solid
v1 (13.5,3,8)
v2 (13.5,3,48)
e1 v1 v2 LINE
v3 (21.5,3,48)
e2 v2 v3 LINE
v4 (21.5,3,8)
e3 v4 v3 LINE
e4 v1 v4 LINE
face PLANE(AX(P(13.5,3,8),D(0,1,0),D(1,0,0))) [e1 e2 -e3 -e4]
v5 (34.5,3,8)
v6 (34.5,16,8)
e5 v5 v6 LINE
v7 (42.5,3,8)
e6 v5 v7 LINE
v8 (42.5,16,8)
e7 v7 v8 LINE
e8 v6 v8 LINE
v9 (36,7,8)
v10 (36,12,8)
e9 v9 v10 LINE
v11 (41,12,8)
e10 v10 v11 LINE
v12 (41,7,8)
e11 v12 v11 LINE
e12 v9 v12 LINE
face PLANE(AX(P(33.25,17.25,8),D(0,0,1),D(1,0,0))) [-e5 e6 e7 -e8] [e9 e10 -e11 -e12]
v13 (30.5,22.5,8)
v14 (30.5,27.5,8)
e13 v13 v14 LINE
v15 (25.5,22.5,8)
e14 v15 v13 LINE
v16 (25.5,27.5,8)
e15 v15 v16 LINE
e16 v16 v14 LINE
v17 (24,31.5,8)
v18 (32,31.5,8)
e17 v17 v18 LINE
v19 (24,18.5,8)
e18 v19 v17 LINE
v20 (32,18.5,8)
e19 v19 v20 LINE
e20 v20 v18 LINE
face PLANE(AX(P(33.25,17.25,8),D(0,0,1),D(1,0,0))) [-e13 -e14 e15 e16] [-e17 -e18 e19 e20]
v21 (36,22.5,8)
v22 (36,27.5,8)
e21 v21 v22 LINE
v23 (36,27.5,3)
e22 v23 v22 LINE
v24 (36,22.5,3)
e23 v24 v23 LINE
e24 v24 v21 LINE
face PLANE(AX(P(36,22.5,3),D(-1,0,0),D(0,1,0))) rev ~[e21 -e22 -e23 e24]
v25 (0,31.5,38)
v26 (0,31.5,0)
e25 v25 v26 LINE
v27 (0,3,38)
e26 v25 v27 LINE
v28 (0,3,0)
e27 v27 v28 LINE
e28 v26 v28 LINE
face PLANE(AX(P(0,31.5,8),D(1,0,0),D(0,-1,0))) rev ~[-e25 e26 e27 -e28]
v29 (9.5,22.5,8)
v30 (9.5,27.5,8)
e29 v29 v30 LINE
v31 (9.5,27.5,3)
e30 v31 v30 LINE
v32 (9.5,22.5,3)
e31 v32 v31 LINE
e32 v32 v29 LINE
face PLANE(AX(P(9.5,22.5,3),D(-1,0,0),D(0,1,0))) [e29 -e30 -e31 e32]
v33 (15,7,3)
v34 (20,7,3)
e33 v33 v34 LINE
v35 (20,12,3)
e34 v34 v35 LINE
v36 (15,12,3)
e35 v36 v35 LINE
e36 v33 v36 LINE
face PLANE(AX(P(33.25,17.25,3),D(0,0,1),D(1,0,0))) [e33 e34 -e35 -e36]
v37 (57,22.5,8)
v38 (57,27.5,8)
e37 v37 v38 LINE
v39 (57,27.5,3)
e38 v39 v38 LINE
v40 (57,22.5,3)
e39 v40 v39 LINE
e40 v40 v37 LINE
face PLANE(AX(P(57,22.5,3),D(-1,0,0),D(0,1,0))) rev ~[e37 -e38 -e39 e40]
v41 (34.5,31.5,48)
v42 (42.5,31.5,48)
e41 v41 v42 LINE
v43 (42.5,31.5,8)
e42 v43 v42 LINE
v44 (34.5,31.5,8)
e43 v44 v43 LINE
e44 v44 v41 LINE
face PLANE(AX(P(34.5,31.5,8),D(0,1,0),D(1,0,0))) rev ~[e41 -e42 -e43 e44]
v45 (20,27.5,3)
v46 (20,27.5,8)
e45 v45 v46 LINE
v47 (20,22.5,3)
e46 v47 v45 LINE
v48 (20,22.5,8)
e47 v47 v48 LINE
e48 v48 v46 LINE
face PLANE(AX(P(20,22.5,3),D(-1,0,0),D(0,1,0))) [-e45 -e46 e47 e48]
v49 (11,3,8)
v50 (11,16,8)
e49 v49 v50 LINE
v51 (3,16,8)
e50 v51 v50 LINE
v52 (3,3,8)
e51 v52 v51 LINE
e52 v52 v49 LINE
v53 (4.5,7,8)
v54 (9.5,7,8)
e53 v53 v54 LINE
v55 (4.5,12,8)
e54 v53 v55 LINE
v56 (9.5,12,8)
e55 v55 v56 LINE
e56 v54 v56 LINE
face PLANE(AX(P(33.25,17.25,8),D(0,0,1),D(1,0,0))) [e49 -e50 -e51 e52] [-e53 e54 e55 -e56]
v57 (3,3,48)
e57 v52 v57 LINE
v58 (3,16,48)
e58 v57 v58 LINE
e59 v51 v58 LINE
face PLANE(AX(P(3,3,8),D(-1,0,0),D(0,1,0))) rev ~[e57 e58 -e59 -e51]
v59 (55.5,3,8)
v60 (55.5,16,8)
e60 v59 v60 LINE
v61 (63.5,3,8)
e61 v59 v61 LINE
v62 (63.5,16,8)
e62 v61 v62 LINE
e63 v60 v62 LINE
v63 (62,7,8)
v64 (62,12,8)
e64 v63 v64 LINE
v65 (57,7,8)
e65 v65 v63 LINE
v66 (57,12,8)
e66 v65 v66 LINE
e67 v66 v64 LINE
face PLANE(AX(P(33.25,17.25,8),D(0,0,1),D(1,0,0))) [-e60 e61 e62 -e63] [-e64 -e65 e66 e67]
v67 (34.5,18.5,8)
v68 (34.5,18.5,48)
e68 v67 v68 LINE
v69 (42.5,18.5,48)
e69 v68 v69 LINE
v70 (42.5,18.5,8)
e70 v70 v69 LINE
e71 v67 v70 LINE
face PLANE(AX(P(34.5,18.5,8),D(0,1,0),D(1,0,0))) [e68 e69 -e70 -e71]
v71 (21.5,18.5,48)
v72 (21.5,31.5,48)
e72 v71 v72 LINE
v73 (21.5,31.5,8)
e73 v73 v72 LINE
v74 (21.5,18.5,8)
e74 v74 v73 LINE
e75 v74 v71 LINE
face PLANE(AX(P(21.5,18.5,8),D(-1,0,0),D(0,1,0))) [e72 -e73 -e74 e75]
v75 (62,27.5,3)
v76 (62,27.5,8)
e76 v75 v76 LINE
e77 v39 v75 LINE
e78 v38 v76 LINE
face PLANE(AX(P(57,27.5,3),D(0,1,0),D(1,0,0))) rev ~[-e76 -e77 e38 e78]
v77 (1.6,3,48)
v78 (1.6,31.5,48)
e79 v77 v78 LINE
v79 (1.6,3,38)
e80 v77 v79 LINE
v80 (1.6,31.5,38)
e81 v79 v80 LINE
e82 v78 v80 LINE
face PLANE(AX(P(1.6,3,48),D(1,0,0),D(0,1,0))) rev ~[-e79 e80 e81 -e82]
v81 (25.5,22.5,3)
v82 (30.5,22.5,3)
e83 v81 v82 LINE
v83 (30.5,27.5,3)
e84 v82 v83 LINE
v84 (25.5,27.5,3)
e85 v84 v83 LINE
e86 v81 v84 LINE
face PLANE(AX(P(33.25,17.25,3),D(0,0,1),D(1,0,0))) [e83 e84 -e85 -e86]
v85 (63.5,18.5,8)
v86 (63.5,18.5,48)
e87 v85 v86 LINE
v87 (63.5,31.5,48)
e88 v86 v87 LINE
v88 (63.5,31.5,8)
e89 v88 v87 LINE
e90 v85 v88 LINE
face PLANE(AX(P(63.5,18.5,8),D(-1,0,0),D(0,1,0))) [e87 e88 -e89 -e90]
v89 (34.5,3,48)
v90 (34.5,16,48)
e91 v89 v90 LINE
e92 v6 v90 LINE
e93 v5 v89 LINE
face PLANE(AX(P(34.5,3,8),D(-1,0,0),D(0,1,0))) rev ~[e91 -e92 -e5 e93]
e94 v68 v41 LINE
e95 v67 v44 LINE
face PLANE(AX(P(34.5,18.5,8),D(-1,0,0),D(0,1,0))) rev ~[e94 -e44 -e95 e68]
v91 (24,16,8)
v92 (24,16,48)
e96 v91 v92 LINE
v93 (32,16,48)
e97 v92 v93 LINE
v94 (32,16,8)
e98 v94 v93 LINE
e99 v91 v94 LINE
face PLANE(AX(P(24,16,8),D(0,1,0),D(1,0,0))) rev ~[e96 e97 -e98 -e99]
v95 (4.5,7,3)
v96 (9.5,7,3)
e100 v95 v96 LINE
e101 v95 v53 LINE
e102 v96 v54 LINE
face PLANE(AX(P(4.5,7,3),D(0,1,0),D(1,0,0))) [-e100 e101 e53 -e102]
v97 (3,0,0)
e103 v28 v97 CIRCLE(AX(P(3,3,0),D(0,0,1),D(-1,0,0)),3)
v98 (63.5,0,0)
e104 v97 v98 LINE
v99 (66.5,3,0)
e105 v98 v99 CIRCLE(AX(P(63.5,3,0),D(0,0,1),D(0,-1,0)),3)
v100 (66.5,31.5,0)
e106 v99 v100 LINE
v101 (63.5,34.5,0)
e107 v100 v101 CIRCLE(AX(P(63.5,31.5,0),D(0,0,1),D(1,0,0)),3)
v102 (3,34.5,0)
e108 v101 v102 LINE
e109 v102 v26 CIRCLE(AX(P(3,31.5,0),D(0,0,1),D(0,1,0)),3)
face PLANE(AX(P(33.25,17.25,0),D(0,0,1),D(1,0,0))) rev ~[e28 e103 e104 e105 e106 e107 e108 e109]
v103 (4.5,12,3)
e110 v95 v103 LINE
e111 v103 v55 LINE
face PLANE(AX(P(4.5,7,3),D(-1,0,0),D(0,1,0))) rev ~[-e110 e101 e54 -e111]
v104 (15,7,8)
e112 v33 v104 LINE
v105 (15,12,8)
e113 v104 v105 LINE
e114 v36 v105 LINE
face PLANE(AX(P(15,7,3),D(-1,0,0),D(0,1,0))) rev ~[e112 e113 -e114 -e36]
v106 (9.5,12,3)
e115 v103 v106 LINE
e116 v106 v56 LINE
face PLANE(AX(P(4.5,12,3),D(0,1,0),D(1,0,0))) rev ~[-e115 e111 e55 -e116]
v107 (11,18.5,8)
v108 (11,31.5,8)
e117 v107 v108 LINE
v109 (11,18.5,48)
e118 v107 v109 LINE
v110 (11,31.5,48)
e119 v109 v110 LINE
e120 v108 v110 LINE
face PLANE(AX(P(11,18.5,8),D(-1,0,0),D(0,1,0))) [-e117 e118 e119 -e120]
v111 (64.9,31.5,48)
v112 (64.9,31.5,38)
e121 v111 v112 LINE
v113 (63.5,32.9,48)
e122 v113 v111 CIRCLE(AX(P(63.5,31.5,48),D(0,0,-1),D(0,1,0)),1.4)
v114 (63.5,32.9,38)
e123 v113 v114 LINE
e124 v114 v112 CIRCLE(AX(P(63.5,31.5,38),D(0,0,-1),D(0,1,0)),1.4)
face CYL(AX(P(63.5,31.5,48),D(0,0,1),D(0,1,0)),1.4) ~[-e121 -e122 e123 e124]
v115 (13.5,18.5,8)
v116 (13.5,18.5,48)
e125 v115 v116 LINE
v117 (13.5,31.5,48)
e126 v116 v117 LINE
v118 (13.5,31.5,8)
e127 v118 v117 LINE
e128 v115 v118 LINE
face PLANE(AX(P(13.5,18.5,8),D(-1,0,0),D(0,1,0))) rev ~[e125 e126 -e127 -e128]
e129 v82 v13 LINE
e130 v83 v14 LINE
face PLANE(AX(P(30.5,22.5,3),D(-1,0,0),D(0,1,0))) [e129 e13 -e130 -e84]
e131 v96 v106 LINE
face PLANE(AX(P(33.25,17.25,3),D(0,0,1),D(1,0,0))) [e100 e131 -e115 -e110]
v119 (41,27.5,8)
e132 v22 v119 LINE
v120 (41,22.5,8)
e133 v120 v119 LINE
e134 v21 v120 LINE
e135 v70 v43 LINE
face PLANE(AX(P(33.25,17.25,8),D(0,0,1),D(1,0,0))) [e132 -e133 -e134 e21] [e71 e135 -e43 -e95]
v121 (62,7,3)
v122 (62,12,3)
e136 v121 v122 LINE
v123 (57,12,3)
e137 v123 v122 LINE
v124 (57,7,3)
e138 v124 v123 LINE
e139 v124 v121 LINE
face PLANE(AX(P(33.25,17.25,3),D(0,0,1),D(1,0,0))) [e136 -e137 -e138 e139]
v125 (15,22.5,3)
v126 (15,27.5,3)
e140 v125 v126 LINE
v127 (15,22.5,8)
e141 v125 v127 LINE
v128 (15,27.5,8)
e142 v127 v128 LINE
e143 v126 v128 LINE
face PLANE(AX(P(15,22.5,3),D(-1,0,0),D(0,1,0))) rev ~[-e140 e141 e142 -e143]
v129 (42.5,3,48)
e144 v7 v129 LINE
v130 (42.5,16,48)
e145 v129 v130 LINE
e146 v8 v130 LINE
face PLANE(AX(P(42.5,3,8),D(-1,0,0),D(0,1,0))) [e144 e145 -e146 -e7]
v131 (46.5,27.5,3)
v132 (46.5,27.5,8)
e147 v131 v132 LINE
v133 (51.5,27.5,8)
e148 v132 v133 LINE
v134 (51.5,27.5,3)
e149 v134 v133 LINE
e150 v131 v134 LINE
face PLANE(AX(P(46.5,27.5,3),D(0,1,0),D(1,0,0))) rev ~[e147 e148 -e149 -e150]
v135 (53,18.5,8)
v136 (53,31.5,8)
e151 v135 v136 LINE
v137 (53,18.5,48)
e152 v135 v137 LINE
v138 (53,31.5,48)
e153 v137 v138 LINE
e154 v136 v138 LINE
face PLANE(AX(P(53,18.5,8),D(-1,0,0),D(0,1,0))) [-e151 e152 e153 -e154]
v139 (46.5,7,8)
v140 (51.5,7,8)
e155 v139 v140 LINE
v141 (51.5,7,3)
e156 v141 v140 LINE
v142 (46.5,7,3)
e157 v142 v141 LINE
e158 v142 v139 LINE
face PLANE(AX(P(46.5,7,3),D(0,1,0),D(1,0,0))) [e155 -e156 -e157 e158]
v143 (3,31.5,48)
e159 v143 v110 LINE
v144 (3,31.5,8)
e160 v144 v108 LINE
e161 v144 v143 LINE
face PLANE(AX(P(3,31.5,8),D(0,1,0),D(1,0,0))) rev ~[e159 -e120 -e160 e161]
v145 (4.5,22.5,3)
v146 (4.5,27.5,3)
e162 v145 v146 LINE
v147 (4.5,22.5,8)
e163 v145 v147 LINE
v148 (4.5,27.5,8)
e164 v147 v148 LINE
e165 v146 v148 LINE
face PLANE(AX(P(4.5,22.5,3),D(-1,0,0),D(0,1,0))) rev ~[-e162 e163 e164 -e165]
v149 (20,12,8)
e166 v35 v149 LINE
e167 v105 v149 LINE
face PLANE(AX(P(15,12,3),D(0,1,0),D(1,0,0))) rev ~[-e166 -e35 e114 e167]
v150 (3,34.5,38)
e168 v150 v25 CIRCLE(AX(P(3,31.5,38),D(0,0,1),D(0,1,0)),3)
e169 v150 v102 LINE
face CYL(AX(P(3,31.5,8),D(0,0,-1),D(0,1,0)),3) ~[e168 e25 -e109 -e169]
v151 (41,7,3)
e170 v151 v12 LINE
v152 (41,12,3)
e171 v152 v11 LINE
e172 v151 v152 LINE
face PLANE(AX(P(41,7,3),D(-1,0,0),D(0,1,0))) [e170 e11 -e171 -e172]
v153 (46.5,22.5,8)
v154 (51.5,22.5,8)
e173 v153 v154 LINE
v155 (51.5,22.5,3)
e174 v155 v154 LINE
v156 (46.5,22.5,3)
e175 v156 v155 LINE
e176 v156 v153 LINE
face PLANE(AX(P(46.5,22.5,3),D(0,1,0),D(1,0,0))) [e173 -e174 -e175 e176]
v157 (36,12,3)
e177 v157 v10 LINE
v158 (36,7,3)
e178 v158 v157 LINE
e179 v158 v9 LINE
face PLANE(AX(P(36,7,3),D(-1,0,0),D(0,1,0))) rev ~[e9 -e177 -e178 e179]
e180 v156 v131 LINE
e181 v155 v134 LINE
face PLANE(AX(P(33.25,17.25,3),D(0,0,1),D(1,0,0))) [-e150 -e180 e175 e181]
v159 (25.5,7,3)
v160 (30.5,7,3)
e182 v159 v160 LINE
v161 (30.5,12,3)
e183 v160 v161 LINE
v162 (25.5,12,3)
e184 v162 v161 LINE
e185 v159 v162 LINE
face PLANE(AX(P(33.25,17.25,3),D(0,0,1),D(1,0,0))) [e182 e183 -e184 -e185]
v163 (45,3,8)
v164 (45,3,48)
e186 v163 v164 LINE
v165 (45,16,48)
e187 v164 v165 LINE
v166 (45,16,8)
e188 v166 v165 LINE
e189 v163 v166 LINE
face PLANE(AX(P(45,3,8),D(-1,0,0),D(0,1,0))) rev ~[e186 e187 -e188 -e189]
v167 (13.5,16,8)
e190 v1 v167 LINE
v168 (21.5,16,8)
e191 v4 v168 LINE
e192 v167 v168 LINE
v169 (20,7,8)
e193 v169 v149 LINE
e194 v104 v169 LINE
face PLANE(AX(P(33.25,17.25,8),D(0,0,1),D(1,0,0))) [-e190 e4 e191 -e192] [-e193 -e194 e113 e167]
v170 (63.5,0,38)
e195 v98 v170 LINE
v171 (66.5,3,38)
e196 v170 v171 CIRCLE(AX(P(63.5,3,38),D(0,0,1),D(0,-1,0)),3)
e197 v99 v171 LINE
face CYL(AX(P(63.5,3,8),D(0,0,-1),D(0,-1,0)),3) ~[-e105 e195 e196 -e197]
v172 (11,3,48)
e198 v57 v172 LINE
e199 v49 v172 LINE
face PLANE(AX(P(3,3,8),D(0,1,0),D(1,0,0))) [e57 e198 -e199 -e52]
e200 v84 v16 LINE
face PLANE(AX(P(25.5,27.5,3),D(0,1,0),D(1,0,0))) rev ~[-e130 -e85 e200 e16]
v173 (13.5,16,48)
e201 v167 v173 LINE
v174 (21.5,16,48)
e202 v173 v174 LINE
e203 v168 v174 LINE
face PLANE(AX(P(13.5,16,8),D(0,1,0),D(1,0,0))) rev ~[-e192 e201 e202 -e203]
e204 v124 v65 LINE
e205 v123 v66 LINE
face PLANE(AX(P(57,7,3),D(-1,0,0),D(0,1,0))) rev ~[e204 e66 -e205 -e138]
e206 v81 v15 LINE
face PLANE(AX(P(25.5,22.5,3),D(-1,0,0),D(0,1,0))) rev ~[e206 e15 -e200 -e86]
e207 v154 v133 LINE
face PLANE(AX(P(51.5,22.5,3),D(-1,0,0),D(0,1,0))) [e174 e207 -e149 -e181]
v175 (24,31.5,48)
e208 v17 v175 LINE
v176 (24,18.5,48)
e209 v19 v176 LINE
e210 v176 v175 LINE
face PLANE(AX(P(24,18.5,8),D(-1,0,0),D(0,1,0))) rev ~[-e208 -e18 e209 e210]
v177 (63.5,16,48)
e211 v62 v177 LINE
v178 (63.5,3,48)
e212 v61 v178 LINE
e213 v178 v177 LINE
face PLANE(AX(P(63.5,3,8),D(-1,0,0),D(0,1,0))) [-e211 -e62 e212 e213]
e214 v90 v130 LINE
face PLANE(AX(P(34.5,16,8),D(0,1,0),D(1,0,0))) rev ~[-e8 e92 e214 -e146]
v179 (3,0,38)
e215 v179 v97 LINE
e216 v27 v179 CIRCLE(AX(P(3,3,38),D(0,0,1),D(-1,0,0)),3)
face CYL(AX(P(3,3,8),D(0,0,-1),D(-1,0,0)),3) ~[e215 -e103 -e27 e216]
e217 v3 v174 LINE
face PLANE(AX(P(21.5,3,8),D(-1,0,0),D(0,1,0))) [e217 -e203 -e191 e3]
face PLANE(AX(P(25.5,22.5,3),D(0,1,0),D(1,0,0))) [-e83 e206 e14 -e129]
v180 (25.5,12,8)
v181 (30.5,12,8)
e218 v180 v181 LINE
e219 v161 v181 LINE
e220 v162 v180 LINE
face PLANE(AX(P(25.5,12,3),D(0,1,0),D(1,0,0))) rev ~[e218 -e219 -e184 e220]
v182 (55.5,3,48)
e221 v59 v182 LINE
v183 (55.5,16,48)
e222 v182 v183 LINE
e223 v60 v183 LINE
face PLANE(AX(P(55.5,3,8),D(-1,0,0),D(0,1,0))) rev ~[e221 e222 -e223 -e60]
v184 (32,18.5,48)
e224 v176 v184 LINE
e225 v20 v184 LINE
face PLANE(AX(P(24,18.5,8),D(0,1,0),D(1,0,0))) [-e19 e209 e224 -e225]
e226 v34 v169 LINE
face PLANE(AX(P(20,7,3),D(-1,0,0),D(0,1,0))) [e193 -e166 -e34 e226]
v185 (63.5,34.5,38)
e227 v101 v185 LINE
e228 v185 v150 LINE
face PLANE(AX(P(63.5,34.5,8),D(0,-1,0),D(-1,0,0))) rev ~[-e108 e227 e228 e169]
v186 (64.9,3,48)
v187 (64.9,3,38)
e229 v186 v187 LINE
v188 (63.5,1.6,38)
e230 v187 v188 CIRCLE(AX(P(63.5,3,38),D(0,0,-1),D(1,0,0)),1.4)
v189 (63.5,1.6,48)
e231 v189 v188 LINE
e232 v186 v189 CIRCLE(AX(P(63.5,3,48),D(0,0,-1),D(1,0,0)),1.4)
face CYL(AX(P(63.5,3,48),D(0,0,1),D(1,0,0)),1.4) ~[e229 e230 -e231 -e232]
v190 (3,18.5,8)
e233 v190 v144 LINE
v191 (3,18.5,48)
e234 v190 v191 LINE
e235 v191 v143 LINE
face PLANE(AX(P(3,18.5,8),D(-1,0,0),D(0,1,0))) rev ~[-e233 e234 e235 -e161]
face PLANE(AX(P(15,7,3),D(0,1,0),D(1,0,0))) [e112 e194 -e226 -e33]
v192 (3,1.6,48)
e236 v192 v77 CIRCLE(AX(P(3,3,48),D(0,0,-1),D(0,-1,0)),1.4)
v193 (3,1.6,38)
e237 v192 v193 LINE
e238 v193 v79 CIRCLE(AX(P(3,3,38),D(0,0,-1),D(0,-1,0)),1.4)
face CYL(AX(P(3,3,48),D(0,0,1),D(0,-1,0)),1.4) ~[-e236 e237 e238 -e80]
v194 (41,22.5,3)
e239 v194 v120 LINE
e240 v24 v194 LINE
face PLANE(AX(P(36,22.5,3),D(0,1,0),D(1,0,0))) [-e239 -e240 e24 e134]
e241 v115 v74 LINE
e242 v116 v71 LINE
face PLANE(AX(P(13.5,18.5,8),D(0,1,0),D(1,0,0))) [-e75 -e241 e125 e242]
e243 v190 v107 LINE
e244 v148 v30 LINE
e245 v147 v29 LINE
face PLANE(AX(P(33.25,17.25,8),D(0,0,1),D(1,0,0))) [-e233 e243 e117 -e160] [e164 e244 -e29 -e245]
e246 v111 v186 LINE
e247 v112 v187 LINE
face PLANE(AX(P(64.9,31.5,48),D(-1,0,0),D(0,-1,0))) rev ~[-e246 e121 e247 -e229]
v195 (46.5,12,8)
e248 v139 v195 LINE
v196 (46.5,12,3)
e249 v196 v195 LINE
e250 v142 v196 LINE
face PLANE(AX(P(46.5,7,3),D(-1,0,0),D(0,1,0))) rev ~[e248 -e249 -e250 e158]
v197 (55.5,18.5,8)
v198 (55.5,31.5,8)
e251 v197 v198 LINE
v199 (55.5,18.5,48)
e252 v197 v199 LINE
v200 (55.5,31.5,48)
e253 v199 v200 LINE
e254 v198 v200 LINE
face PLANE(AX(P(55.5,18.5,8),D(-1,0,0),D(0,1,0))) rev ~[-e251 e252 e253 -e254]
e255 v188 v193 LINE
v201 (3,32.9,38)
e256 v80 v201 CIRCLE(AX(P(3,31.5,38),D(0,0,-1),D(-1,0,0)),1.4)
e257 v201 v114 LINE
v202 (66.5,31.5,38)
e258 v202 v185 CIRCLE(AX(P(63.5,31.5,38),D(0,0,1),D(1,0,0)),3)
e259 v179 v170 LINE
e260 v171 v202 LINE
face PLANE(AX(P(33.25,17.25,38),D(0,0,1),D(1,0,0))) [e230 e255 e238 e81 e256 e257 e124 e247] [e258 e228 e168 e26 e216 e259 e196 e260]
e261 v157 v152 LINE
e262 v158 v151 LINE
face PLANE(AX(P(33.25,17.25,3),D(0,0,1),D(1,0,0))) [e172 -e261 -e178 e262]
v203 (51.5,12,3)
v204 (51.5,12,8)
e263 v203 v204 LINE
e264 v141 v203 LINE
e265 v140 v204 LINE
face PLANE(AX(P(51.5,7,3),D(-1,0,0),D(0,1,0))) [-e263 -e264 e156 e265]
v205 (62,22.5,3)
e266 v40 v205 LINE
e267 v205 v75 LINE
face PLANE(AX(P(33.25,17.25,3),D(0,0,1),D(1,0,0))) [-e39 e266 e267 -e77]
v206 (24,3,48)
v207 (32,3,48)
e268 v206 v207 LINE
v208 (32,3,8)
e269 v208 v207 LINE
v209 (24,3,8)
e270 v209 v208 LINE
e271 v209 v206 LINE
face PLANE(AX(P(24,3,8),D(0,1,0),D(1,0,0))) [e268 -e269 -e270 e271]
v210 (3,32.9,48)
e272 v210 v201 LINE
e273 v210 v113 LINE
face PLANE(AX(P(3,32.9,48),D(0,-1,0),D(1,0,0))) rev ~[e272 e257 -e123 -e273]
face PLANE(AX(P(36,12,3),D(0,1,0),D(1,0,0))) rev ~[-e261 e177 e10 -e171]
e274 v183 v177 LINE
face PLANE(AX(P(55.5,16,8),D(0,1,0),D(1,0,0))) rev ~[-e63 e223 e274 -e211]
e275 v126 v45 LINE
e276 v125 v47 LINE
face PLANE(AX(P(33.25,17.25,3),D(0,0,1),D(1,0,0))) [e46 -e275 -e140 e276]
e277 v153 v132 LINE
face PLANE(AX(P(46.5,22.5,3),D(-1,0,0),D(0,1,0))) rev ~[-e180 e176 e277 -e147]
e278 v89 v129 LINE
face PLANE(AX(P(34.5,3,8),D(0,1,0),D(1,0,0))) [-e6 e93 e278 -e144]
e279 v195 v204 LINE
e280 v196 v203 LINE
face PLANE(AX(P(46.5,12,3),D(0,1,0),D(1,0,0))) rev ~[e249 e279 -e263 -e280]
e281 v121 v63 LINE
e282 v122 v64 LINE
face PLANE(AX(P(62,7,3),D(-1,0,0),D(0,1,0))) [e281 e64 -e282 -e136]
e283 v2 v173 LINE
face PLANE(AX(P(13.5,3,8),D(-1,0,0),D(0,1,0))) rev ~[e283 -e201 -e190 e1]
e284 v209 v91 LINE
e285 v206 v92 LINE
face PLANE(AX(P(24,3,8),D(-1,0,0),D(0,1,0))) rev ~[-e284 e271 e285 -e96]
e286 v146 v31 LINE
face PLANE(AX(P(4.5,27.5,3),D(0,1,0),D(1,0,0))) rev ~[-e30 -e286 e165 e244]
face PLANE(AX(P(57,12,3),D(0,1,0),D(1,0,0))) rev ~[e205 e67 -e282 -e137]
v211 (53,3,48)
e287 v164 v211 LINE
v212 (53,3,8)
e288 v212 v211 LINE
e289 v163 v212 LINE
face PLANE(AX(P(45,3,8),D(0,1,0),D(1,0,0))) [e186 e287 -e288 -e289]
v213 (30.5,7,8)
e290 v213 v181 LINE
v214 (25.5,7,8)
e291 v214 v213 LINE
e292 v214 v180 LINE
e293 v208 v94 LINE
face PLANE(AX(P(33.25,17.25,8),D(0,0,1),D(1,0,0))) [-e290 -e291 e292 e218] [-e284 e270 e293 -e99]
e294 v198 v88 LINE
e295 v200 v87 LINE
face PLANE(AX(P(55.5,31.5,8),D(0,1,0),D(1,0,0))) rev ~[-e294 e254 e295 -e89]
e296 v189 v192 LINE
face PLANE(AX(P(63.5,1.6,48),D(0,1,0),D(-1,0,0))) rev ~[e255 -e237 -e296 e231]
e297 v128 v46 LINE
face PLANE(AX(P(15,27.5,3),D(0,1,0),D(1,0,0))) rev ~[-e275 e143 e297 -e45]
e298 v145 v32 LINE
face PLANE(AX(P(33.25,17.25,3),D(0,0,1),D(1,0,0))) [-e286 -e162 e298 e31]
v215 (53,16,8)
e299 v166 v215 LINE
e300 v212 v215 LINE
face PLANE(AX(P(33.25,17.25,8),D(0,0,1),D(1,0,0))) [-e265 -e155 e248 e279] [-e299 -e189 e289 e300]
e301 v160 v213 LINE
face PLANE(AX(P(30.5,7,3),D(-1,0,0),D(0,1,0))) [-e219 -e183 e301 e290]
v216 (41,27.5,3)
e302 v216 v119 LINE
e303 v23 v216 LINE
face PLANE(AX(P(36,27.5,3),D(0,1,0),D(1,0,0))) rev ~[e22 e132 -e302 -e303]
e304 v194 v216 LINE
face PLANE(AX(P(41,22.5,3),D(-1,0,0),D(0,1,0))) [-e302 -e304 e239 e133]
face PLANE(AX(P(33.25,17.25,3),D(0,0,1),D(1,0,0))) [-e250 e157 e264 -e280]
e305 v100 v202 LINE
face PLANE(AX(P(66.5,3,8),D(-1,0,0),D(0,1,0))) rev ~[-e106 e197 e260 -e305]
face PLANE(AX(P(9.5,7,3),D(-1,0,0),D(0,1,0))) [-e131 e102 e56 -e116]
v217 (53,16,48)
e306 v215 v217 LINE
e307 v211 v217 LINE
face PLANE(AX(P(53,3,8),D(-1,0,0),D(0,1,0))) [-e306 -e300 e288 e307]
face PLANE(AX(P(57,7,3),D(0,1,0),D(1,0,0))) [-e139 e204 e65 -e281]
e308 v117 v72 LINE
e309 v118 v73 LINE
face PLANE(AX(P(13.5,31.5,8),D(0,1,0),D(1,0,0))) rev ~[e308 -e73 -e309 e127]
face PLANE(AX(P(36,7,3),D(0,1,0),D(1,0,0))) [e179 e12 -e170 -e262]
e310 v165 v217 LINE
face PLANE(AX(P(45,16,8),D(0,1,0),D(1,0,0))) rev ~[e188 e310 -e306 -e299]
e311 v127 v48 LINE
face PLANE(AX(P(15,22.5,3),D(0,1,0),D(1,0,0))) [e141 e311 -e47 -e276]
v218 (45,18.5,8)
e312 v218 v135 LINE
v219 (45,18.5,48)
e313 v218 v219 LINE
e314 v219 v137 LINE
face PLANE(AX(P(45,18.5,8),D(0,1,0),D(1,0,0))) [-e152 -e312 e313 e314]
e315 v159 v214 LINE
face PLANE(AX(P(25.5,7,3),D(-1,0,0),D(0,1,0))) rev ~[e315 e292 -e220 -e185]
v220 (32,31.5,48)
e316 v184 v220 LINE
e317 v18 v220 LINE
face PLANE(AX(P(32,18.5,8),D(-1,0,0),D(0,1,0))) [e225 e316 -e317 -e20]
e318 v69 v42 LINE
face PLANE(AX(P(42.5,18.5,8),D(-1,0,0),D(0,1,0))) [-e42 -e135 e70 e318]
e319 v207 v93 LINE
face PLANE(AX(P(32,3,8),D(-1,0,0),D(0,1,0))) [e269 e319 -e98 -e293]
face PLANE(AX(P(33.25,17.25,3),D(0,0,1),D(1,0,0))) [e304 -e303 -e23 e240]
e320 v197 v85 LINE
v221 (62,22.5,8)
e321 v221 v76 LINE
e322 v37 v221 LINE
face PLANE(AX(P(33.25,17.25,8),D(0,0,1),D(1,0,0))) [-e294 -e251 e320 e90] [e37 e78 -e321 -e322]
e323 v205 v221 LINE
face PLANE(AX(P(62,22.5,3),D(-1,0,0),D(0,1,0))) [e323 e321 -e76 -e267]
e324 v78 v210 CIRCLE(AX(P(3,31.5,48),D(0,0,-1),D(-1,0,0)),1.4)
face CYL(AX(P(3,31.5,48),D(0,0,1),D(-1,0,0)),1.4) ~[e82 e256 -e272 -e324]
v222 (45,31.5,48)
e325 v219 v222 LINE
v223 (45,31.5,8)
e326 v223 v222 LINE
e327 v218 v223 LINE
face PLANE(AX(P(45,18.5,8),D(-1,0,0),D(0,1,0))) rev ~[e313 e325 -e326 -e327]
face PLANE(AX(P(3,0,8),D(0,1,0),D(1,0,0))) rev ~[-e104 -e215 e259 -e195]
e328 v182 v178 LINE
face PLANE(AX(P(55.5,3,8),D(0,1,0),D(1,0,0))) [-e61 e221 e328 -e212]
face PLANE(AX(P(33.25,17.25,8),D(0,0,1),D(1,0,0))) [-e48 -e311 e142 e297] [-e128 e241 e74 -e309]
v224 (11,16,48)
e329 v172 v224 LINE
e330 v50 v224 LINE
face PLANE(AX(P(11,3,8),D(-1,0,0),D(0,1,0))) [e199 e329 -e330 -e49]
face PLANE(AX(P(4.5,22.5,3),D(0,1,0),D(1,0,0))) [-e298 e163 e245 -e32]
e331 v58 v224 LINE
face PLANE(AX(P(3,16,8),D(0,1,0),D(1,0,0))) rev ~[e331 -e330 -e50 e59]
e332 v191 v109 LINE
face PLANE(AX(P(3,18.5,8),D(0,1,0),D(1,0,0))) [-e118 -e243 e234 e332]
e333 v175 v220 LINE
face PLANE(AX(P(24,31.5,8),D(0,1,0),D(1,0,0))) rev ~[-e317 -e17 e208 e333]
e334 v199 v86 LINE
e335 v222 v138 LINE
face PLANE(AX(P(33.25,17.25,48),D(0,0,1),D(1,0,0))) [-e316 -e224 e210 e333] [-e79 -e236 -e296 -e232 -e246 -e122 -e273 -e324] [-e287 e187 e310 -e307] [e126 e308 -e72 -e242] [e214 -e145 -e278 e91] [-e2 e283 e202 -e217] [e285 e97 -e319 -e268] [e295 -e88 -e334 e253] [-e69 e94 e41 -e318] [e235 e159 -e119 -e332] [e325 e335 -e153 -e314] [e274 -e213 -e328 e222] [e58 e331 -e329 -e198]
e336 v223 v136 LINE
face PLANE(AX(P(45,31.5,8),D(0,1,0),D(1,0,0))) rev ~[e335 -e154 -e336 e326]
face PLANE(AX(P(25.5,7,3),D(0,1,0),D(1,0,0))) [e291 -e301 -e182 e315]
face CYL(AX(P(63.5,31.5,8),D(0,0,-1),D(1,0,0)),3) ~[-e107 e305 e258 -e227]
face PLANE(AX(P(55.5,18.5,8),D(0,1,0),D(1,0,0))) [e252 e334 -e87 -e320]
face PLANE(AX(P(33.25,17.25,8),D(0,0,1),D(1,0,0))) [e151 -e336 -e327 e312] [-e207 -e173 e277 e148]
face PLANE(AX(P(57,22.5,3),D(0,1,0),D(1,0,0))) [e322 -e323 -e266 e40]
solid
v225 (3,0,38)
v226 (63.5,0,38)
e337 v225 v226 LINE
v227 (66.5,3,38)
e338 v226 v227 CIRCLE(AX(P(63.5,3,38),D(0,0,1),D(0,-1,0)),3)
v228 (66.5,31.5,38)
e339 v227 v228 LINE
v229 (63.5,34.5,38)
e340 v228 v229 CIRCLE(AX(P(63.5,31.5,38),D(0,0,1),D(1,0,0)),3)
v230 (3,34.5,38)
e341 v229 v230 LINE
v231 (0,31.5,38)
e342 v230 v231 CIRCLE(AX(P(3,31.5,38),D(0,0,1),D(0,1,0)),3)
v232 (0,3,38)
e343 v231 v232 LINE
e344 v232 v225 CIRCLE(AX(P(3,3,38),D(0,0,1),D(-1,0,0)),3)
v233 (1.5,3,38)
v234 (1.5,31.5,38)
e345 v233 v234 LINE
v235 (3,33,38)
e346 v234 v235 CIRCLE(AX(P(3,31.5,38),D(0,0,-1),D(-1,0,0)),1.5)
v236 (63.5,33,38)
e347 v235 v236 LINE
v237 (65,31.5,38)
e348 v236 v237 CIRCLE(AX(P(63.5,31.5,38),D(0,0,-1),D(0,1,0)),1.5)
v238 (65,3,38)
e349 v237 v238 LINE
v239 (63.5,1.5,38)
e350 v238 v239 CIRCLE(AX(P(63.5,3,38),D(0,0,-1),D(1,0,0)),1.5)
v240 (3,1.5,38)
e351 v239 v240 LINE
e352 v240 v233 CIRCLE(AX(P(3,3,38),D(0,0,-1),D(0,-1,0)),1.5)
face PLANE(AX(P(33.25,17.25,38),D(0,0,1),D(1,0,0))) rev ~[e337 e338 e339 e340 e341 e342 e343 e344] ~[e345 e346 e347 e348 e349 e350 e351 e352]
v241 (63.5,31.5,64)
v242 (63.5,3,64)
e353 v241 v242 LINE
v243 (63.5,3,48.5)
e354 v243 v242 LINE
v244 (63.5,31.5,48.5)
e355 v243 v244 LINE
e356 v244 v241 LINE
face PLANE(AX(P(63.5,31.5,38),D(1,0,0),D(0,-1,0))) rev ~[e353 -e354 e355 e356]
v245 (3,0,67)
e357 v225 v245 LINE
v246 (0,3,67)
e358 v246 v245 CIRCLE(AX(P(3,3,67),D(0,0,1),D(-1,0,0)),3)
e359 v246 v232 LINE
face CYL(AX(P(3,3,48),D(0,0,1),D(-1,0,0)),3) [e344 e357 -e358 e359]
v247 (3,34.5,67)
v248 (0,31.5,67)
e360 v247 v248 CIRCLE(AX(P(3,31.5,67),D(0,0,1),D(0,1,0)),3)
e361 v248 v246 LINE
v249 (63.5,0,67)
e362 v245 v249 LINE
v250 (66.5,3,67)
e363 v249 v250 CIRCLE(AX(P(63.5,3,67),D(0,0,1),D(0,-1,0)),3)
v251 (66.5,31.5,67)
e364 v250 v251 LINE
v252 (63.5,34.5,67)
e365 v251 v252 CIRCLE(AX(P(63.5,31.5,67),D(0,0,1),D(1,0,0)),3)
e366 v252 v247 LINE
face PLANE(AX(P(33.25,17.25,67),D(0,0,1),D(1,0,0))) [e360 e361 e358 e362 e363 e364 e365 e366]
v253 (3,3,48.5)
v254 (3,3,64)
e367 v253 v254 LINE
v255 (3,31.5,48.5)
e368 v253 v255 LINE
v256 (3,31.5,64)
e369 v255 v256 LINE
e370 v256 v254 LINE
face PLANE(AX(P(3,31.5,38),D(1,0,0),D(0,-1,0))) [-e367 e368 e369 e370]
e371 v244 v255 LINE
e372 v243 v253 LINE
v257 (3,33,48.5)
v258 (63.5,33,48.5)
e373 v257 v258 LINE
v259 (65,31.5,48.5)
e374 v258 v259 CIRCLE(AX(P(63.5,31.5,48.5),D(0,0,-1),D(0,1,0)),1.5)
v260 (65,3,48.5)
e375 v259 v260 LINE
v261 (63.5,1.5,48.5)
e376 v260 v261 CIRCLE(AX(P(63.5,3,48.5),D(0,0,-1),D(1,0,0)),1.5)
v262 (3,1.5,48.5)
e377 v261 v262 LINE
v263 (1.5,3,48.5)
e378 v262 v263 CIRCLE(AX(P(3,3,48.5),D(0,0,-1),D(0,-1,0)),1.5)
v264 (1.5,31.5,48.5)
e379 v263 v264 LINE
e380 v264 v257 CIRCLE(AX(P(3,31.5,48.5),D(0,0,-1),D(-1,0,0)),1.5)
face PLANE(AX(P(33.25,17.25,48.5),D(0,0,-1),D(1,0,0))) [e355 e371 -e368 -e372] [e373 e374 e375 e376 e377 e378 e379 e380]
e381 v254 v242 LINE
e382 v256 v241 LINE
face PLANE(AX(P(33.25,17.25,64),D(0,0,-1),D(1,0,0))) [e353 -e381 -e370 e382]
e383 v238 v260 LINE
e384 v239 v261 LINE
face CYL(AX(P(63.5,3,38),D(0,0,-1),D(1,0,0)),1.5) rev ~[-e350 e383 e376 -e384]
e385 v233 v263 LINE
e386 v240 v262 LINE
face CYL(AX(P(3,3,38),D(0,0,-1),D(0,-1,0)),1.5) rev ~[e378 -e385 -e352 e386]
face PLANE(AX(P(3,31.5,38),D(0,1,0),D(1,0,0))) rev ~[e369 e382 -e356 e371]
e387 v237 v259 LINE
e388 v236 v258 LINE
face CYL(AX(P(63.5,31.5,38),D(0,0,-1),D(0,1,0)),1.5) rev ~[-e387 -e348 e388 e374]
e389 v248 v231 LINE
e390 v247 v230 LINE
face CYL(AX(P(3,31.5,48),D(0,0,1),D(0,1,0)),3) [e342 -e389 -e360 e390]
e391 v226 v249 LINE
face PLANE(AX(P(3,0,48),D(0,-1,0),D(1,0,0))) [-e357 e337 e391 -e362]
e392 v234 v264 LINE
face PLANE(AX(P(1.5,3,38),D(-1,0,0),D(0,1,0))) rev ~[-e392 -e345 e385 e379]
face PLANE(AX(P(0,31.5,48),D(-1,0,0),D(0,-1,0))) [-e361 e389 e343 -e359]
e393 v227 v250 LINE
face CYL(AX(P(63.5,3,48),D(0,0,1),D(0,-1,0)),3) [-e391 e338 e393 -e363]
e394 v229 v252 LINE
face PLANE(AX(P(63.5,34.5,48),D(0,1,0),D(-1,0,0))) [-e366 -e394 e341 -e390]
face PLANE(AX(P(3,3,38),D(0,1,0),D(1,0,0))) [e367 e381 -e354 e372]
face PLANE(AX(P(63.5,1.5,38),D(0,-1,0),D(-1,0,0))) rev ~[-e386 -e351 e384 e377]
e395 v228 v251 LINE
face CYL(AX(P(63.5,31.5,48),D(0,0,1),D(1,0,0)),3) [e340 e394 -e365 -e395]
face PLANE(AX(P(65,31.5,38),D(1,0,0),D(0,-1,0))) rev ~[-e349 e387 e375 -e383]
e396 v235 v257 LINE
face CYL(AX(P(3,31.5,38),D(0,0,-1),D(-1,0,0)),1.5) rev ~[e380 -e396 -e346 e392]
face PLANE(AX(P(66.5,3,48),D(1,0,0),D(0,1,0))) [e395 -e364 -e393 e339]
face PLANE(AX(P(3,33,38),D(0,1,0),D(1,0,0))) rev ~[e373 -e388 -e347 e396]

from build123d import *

# Parameters (mm, degrees)
F1_DEPTH      = 3
F2_W          = 5
F2_H          = 5
F3_DEPTH      = 5
F4_W          = 8
F4_H          = 13
F5_DEPTH      = 40
F7_DEPTH      = 10
F9_DEPTH      = 19
F9_DEPTH_BACK = 10
F10_W         = 60.5
F10_H         = 28.5
F11_DEPTH     = 26
F13_DEPTH     = 10.5


with BuildPart() as f1:
    # F0 (on Top) → F1 (new body)
    with BuildSketch(Plane.XY):
        with BuildLine():
            ThreePointArc((0, 3), (0.8786796564, 0.8786796564), (3, 0))
            Line((3, 0), (63.5, 0))
            ThreePointArc((63.5, 0), (65.6213203436, 0.8786796564), (66.5, 3))
            Line((66.5, 3), (66.5, 31.5))
            ThreePointArc((66.5, 31.5), (65.6213203436, 33.6213203436), (63.5, 34.5))
            Line((63.5, 34.5), (3, 34.5))
            ThreePointArc((3, 34.5), (0.8786796564, 33.6213203436), (0, 31.5))
            Line((0, 31.5), (0, 3))
        make_face()
    extrude(amount=F1_DEPTH)

    # F2 (on face) → F3 (join)
    with BuildSketch(Plane.XY.offset(3)):
        with BuildLine():
            Line((3, 0), (63.5, 0))
            ThreePointArc((63.5, 0), (65.6213203436, 0.8786796564), (66.5, 3))
            Line((66.5, 3), (66.5, 31.5))
            ThreePointArc((66.5, 31.5), (65.6213203436, 33.6213203436), (63.5, 34.5))
            Line((63.5, 34.5), (3, 34.5))
            ThreePointArc((3, 34.5), (0.8786796564, 33.6213203436), (0, 31.5))
            Line((0, 31.5), (0, 3))
            ThreePointArc((0, 3), (0.8786796564, 0.8786796564), (3, 0))
        make_face()
        with Locations((7, 9.5)):
            Rectangle(F2_W, F2_H, mode=Mode.SUBTRACT)
        with Locations((17.5, 9.5)):
            Rectangle(F2_W, F2_H, mode=Mode.SUBTRACT)
        with Locations((28, 9.5)):
            Rectangle(F2_W, F2_H, mode=Mode.SUBTRACT)
        with Locations((38.5, 9.5)):
            Rectangle(F2_W, F2_H, mode=Mode.SUBTRACT)
        with Locations((49, 9.5)):
            Rectangle(F2_W, F2_H, mode=Mode.SUBTRACT)
        with Locations((59.5, 9.5)):
            Rectangle(F2_W, F2_H, mode=Mode.SUBTRACT)
        with Locations((7, 25)):
            Rectangle(F2_W, F2_H, mode=Mode.SUBTRACT)
        with Locations((17.5, 25)):
            Rectangle(F2_W, F2_H, mode=Mode.SUBTRACT)
        with Locations((28, 25)):
            Rectangle(F2_W, F2_H, mode=Mode.SUBTRACT)
        with Locations((38.5, 25)):
            Rectangle(F2_W, F2_H, mode=Mode.SUBTRACT)
        with Locations((49, 25)):
            Rectangle(F2_W, F2_H, mode=Mode.SUBTRACT)
        with Locations((59.5, 25)):
            Rectangle(F2_W, F2_H, mode=Mode.SUBTRACT)
    extrude(amount=F3_DEPTH)

    # F4 (on face) → F5 (join)
    with BuildSketch(Plane.XY.offset(8)):
        with BuildLine():
            Line((3, 0), (63.5, 0))
            ThreePointArc((63.5, 0), (65.6213203436, 0.8786796564), (66.5, 3))
            Line((66.5, 3), (66.5, 31.5))
            ThreePointArc((66.5, 31.5), (65.6213203436, 33.6213203436), (63.5, 34.5))
            Line((63.5, 34.5), (3, 34.5))
            ThreePointArc((3, 34.5), (0.8786796564, 33.6213203436), (0, 31.5))
            Line((0, 31.5), (0, 3))
            ThreePointArc((0, 3), (0.8786796564, 0.8786796564), (3, 0))
        make_face()
        with Locations((7, 9.5)):
            Rectangle(F4_W, F4_H, mode=Mode.SUBTRACT)
        with Locations((17.5, 9.5)):
            Rectangle(F4_W, F4_H, mode=Mode.SUBTRACT)
        with Locations((28, 9.5)):
            Rectangle(F4_W, F4_H, mode=Mode.SUBTRACT)
        with Locations((38.5, 9.5)):
            Rectangle(F4_W, F4_H, mode=Mode.SUBTRACT)
        with Locations((49, 9.5)):
            Rectangle(F4_W, F4_H, mode=Mode.SUBTRACT)
        with Locations((59.5, 9.5)):
            Rectangle(F4_W, F4_H, mode=Mode.SUBTRACT)
        with Locations((7, 25)):
            Rectangle(F4_W, F4_H, mode=Mode.SUBTRACT)
        with Locations((17.5, 25)):
            Rectangle(F4_W, F4_H, mode=Mode.SUBTRACT)
        with Locations((28, 25)):
            Rectangle(F4_W, F4_H, mode=Mode.SUBTRACT)
        with Locations((38.5, 25)):
            Rectangle(F4_W, F4_H, mode=Mode.SUBTRACT)
        with Locations((49, 25)):
            Rectangle(F4_W, F4_H, mode=Mode.SUBTRACT)
        with Locations((59.5, 25)):
            Rectangle(F4_W, F4_H, mode=Mode.SUBTRACT)
    extrude(amount=F5_DEPTH)

    # F6 (on face) → F7 (cut)
    with BuildSketch(Plane.XY.offset(48)):
        with BuildLine():
            Line((63.5, 34.5), (3, 34.5))
            ThreePointArc((3, 34.5), (0.8786796564, 33.6213203436), (0, 31.5))
            Line((0, 31.5), (0, 3))
            ThreePointArc((0, 3), (0.8786796564, 0.8786796564), (3, 0))
            Line((3, 0), (63.5, 0))
            ThreePointArc((63.5, 0), (65.6213203436, 0.8786796564), (66.5, 3))
            Line((66.5, 3), (66.5, 31.5))
            ThreePointArc((66.5, 31.5), (65.6213203436, 33.6213203436), (63.5, 34.5))
        make_face()
        with BuildLine():
            ThreePointArc((1.6, 31.5), (2.0100505063, 32.4899494937), (3, 32.9))
            Line((3, 32.9), (63.5, 32.9))
            ThreePointArc((63.5, 32.9), (64.4899494937, 32.4899494937), (64.9, 31.5))
            Line((64.9, 31.5), (64.9, 3))
            ThreePointArc((64.9, 3), (64.4899494937, 2.0100505063), (63.5, 1.6))
            Line((63.5, 1.6), (3, 1.6))
            ThreePointArc((3, 1.6), (2.0100505063, 2.0100505063), (1.6, 3))
            Line((1.6, 3), (1.6, 31.5))
        make_face(mode=Mode.SUBTRACT)
    extrude(amount=-F7_DEPTH, mode=Mode.SUBTRACT)


with BuildPart() as f9:
    # F8 (on face) → F9 (new body, two sides)
    with BuildSketch(Plane.XY.offset(48)) as f9_sk:
        with BuildLine():
            ThreePointArc((0, 3), (0.8786796564, 0.8786796564), (3, 0))
            Line((3, 0), (63.5, 0))
            ThreePointArc((63.5, 0), (65.6213203436, 0.8786796564), (66.5, 3))
            Line((66.5, 3), (66.5, 31.5))
            ThreePointArc((66.5, 31.5), (65.6213203436, 33.6213203436), (63.5, 34.5))
            Line((63.5, 34.5), (3, 34.5))
            ThreePointArc((3, 34.5), (0.8786796564, 33.6213203436), (0, 31.5))
            Line((0, 31.5), (0, 3))
        make_face()
    extrude(amount=F9_DEPTH)
    extrude(f9_sk.sketch, amount=-F9_DEPTH_BACK)

    # F10 (on face) → F11 (cut)
    with BuildSketch(Plane(origin=(0, 0, 38), x_dir=(1, 0, 0), z_dir=(0, 0, -1))):
        with Locations((33.25, -17.25)):
            Rectangle(F10_W, F10_H)
    extrude(amount=-F11_DEPTH, mode=Mode.SUBTRACT)

    # F12 (on face) → F13 (cut)
    with BuildSketch(Plane(origin=(0, 0, 38), x_dir=(1, 0, 0), z_dir=(0, 0, -1))):
        with BuildLine():
            ThreePointArc((3, -1.5), (1.9393398282, -1.9393398282), (1.5, -3))
            Line((1.5, -3), (1.5, -31.5))
            ThreePointArc((1.5, -31.5), (1.9393398282, -32.5606601718), (3, -33))
            Line((3, -33), (63.5, -33))
            ThreePointArc((63.5, -33), (64.5606601718, -32.5606601718), (65, -31.5))
            Line((65, -31.5), (65, -3))
            ThreePointArc((65, -3), (64.5606601718, -1.9393398282), (63.5, -1.5))
            Line((63.5, -1.5), (3, -1.5))
        make_face()
    extrude(amount=-F13_DEPTH, mode=Mode.SUBTRACT)


solid = Compound([f1.part, f9.part])
